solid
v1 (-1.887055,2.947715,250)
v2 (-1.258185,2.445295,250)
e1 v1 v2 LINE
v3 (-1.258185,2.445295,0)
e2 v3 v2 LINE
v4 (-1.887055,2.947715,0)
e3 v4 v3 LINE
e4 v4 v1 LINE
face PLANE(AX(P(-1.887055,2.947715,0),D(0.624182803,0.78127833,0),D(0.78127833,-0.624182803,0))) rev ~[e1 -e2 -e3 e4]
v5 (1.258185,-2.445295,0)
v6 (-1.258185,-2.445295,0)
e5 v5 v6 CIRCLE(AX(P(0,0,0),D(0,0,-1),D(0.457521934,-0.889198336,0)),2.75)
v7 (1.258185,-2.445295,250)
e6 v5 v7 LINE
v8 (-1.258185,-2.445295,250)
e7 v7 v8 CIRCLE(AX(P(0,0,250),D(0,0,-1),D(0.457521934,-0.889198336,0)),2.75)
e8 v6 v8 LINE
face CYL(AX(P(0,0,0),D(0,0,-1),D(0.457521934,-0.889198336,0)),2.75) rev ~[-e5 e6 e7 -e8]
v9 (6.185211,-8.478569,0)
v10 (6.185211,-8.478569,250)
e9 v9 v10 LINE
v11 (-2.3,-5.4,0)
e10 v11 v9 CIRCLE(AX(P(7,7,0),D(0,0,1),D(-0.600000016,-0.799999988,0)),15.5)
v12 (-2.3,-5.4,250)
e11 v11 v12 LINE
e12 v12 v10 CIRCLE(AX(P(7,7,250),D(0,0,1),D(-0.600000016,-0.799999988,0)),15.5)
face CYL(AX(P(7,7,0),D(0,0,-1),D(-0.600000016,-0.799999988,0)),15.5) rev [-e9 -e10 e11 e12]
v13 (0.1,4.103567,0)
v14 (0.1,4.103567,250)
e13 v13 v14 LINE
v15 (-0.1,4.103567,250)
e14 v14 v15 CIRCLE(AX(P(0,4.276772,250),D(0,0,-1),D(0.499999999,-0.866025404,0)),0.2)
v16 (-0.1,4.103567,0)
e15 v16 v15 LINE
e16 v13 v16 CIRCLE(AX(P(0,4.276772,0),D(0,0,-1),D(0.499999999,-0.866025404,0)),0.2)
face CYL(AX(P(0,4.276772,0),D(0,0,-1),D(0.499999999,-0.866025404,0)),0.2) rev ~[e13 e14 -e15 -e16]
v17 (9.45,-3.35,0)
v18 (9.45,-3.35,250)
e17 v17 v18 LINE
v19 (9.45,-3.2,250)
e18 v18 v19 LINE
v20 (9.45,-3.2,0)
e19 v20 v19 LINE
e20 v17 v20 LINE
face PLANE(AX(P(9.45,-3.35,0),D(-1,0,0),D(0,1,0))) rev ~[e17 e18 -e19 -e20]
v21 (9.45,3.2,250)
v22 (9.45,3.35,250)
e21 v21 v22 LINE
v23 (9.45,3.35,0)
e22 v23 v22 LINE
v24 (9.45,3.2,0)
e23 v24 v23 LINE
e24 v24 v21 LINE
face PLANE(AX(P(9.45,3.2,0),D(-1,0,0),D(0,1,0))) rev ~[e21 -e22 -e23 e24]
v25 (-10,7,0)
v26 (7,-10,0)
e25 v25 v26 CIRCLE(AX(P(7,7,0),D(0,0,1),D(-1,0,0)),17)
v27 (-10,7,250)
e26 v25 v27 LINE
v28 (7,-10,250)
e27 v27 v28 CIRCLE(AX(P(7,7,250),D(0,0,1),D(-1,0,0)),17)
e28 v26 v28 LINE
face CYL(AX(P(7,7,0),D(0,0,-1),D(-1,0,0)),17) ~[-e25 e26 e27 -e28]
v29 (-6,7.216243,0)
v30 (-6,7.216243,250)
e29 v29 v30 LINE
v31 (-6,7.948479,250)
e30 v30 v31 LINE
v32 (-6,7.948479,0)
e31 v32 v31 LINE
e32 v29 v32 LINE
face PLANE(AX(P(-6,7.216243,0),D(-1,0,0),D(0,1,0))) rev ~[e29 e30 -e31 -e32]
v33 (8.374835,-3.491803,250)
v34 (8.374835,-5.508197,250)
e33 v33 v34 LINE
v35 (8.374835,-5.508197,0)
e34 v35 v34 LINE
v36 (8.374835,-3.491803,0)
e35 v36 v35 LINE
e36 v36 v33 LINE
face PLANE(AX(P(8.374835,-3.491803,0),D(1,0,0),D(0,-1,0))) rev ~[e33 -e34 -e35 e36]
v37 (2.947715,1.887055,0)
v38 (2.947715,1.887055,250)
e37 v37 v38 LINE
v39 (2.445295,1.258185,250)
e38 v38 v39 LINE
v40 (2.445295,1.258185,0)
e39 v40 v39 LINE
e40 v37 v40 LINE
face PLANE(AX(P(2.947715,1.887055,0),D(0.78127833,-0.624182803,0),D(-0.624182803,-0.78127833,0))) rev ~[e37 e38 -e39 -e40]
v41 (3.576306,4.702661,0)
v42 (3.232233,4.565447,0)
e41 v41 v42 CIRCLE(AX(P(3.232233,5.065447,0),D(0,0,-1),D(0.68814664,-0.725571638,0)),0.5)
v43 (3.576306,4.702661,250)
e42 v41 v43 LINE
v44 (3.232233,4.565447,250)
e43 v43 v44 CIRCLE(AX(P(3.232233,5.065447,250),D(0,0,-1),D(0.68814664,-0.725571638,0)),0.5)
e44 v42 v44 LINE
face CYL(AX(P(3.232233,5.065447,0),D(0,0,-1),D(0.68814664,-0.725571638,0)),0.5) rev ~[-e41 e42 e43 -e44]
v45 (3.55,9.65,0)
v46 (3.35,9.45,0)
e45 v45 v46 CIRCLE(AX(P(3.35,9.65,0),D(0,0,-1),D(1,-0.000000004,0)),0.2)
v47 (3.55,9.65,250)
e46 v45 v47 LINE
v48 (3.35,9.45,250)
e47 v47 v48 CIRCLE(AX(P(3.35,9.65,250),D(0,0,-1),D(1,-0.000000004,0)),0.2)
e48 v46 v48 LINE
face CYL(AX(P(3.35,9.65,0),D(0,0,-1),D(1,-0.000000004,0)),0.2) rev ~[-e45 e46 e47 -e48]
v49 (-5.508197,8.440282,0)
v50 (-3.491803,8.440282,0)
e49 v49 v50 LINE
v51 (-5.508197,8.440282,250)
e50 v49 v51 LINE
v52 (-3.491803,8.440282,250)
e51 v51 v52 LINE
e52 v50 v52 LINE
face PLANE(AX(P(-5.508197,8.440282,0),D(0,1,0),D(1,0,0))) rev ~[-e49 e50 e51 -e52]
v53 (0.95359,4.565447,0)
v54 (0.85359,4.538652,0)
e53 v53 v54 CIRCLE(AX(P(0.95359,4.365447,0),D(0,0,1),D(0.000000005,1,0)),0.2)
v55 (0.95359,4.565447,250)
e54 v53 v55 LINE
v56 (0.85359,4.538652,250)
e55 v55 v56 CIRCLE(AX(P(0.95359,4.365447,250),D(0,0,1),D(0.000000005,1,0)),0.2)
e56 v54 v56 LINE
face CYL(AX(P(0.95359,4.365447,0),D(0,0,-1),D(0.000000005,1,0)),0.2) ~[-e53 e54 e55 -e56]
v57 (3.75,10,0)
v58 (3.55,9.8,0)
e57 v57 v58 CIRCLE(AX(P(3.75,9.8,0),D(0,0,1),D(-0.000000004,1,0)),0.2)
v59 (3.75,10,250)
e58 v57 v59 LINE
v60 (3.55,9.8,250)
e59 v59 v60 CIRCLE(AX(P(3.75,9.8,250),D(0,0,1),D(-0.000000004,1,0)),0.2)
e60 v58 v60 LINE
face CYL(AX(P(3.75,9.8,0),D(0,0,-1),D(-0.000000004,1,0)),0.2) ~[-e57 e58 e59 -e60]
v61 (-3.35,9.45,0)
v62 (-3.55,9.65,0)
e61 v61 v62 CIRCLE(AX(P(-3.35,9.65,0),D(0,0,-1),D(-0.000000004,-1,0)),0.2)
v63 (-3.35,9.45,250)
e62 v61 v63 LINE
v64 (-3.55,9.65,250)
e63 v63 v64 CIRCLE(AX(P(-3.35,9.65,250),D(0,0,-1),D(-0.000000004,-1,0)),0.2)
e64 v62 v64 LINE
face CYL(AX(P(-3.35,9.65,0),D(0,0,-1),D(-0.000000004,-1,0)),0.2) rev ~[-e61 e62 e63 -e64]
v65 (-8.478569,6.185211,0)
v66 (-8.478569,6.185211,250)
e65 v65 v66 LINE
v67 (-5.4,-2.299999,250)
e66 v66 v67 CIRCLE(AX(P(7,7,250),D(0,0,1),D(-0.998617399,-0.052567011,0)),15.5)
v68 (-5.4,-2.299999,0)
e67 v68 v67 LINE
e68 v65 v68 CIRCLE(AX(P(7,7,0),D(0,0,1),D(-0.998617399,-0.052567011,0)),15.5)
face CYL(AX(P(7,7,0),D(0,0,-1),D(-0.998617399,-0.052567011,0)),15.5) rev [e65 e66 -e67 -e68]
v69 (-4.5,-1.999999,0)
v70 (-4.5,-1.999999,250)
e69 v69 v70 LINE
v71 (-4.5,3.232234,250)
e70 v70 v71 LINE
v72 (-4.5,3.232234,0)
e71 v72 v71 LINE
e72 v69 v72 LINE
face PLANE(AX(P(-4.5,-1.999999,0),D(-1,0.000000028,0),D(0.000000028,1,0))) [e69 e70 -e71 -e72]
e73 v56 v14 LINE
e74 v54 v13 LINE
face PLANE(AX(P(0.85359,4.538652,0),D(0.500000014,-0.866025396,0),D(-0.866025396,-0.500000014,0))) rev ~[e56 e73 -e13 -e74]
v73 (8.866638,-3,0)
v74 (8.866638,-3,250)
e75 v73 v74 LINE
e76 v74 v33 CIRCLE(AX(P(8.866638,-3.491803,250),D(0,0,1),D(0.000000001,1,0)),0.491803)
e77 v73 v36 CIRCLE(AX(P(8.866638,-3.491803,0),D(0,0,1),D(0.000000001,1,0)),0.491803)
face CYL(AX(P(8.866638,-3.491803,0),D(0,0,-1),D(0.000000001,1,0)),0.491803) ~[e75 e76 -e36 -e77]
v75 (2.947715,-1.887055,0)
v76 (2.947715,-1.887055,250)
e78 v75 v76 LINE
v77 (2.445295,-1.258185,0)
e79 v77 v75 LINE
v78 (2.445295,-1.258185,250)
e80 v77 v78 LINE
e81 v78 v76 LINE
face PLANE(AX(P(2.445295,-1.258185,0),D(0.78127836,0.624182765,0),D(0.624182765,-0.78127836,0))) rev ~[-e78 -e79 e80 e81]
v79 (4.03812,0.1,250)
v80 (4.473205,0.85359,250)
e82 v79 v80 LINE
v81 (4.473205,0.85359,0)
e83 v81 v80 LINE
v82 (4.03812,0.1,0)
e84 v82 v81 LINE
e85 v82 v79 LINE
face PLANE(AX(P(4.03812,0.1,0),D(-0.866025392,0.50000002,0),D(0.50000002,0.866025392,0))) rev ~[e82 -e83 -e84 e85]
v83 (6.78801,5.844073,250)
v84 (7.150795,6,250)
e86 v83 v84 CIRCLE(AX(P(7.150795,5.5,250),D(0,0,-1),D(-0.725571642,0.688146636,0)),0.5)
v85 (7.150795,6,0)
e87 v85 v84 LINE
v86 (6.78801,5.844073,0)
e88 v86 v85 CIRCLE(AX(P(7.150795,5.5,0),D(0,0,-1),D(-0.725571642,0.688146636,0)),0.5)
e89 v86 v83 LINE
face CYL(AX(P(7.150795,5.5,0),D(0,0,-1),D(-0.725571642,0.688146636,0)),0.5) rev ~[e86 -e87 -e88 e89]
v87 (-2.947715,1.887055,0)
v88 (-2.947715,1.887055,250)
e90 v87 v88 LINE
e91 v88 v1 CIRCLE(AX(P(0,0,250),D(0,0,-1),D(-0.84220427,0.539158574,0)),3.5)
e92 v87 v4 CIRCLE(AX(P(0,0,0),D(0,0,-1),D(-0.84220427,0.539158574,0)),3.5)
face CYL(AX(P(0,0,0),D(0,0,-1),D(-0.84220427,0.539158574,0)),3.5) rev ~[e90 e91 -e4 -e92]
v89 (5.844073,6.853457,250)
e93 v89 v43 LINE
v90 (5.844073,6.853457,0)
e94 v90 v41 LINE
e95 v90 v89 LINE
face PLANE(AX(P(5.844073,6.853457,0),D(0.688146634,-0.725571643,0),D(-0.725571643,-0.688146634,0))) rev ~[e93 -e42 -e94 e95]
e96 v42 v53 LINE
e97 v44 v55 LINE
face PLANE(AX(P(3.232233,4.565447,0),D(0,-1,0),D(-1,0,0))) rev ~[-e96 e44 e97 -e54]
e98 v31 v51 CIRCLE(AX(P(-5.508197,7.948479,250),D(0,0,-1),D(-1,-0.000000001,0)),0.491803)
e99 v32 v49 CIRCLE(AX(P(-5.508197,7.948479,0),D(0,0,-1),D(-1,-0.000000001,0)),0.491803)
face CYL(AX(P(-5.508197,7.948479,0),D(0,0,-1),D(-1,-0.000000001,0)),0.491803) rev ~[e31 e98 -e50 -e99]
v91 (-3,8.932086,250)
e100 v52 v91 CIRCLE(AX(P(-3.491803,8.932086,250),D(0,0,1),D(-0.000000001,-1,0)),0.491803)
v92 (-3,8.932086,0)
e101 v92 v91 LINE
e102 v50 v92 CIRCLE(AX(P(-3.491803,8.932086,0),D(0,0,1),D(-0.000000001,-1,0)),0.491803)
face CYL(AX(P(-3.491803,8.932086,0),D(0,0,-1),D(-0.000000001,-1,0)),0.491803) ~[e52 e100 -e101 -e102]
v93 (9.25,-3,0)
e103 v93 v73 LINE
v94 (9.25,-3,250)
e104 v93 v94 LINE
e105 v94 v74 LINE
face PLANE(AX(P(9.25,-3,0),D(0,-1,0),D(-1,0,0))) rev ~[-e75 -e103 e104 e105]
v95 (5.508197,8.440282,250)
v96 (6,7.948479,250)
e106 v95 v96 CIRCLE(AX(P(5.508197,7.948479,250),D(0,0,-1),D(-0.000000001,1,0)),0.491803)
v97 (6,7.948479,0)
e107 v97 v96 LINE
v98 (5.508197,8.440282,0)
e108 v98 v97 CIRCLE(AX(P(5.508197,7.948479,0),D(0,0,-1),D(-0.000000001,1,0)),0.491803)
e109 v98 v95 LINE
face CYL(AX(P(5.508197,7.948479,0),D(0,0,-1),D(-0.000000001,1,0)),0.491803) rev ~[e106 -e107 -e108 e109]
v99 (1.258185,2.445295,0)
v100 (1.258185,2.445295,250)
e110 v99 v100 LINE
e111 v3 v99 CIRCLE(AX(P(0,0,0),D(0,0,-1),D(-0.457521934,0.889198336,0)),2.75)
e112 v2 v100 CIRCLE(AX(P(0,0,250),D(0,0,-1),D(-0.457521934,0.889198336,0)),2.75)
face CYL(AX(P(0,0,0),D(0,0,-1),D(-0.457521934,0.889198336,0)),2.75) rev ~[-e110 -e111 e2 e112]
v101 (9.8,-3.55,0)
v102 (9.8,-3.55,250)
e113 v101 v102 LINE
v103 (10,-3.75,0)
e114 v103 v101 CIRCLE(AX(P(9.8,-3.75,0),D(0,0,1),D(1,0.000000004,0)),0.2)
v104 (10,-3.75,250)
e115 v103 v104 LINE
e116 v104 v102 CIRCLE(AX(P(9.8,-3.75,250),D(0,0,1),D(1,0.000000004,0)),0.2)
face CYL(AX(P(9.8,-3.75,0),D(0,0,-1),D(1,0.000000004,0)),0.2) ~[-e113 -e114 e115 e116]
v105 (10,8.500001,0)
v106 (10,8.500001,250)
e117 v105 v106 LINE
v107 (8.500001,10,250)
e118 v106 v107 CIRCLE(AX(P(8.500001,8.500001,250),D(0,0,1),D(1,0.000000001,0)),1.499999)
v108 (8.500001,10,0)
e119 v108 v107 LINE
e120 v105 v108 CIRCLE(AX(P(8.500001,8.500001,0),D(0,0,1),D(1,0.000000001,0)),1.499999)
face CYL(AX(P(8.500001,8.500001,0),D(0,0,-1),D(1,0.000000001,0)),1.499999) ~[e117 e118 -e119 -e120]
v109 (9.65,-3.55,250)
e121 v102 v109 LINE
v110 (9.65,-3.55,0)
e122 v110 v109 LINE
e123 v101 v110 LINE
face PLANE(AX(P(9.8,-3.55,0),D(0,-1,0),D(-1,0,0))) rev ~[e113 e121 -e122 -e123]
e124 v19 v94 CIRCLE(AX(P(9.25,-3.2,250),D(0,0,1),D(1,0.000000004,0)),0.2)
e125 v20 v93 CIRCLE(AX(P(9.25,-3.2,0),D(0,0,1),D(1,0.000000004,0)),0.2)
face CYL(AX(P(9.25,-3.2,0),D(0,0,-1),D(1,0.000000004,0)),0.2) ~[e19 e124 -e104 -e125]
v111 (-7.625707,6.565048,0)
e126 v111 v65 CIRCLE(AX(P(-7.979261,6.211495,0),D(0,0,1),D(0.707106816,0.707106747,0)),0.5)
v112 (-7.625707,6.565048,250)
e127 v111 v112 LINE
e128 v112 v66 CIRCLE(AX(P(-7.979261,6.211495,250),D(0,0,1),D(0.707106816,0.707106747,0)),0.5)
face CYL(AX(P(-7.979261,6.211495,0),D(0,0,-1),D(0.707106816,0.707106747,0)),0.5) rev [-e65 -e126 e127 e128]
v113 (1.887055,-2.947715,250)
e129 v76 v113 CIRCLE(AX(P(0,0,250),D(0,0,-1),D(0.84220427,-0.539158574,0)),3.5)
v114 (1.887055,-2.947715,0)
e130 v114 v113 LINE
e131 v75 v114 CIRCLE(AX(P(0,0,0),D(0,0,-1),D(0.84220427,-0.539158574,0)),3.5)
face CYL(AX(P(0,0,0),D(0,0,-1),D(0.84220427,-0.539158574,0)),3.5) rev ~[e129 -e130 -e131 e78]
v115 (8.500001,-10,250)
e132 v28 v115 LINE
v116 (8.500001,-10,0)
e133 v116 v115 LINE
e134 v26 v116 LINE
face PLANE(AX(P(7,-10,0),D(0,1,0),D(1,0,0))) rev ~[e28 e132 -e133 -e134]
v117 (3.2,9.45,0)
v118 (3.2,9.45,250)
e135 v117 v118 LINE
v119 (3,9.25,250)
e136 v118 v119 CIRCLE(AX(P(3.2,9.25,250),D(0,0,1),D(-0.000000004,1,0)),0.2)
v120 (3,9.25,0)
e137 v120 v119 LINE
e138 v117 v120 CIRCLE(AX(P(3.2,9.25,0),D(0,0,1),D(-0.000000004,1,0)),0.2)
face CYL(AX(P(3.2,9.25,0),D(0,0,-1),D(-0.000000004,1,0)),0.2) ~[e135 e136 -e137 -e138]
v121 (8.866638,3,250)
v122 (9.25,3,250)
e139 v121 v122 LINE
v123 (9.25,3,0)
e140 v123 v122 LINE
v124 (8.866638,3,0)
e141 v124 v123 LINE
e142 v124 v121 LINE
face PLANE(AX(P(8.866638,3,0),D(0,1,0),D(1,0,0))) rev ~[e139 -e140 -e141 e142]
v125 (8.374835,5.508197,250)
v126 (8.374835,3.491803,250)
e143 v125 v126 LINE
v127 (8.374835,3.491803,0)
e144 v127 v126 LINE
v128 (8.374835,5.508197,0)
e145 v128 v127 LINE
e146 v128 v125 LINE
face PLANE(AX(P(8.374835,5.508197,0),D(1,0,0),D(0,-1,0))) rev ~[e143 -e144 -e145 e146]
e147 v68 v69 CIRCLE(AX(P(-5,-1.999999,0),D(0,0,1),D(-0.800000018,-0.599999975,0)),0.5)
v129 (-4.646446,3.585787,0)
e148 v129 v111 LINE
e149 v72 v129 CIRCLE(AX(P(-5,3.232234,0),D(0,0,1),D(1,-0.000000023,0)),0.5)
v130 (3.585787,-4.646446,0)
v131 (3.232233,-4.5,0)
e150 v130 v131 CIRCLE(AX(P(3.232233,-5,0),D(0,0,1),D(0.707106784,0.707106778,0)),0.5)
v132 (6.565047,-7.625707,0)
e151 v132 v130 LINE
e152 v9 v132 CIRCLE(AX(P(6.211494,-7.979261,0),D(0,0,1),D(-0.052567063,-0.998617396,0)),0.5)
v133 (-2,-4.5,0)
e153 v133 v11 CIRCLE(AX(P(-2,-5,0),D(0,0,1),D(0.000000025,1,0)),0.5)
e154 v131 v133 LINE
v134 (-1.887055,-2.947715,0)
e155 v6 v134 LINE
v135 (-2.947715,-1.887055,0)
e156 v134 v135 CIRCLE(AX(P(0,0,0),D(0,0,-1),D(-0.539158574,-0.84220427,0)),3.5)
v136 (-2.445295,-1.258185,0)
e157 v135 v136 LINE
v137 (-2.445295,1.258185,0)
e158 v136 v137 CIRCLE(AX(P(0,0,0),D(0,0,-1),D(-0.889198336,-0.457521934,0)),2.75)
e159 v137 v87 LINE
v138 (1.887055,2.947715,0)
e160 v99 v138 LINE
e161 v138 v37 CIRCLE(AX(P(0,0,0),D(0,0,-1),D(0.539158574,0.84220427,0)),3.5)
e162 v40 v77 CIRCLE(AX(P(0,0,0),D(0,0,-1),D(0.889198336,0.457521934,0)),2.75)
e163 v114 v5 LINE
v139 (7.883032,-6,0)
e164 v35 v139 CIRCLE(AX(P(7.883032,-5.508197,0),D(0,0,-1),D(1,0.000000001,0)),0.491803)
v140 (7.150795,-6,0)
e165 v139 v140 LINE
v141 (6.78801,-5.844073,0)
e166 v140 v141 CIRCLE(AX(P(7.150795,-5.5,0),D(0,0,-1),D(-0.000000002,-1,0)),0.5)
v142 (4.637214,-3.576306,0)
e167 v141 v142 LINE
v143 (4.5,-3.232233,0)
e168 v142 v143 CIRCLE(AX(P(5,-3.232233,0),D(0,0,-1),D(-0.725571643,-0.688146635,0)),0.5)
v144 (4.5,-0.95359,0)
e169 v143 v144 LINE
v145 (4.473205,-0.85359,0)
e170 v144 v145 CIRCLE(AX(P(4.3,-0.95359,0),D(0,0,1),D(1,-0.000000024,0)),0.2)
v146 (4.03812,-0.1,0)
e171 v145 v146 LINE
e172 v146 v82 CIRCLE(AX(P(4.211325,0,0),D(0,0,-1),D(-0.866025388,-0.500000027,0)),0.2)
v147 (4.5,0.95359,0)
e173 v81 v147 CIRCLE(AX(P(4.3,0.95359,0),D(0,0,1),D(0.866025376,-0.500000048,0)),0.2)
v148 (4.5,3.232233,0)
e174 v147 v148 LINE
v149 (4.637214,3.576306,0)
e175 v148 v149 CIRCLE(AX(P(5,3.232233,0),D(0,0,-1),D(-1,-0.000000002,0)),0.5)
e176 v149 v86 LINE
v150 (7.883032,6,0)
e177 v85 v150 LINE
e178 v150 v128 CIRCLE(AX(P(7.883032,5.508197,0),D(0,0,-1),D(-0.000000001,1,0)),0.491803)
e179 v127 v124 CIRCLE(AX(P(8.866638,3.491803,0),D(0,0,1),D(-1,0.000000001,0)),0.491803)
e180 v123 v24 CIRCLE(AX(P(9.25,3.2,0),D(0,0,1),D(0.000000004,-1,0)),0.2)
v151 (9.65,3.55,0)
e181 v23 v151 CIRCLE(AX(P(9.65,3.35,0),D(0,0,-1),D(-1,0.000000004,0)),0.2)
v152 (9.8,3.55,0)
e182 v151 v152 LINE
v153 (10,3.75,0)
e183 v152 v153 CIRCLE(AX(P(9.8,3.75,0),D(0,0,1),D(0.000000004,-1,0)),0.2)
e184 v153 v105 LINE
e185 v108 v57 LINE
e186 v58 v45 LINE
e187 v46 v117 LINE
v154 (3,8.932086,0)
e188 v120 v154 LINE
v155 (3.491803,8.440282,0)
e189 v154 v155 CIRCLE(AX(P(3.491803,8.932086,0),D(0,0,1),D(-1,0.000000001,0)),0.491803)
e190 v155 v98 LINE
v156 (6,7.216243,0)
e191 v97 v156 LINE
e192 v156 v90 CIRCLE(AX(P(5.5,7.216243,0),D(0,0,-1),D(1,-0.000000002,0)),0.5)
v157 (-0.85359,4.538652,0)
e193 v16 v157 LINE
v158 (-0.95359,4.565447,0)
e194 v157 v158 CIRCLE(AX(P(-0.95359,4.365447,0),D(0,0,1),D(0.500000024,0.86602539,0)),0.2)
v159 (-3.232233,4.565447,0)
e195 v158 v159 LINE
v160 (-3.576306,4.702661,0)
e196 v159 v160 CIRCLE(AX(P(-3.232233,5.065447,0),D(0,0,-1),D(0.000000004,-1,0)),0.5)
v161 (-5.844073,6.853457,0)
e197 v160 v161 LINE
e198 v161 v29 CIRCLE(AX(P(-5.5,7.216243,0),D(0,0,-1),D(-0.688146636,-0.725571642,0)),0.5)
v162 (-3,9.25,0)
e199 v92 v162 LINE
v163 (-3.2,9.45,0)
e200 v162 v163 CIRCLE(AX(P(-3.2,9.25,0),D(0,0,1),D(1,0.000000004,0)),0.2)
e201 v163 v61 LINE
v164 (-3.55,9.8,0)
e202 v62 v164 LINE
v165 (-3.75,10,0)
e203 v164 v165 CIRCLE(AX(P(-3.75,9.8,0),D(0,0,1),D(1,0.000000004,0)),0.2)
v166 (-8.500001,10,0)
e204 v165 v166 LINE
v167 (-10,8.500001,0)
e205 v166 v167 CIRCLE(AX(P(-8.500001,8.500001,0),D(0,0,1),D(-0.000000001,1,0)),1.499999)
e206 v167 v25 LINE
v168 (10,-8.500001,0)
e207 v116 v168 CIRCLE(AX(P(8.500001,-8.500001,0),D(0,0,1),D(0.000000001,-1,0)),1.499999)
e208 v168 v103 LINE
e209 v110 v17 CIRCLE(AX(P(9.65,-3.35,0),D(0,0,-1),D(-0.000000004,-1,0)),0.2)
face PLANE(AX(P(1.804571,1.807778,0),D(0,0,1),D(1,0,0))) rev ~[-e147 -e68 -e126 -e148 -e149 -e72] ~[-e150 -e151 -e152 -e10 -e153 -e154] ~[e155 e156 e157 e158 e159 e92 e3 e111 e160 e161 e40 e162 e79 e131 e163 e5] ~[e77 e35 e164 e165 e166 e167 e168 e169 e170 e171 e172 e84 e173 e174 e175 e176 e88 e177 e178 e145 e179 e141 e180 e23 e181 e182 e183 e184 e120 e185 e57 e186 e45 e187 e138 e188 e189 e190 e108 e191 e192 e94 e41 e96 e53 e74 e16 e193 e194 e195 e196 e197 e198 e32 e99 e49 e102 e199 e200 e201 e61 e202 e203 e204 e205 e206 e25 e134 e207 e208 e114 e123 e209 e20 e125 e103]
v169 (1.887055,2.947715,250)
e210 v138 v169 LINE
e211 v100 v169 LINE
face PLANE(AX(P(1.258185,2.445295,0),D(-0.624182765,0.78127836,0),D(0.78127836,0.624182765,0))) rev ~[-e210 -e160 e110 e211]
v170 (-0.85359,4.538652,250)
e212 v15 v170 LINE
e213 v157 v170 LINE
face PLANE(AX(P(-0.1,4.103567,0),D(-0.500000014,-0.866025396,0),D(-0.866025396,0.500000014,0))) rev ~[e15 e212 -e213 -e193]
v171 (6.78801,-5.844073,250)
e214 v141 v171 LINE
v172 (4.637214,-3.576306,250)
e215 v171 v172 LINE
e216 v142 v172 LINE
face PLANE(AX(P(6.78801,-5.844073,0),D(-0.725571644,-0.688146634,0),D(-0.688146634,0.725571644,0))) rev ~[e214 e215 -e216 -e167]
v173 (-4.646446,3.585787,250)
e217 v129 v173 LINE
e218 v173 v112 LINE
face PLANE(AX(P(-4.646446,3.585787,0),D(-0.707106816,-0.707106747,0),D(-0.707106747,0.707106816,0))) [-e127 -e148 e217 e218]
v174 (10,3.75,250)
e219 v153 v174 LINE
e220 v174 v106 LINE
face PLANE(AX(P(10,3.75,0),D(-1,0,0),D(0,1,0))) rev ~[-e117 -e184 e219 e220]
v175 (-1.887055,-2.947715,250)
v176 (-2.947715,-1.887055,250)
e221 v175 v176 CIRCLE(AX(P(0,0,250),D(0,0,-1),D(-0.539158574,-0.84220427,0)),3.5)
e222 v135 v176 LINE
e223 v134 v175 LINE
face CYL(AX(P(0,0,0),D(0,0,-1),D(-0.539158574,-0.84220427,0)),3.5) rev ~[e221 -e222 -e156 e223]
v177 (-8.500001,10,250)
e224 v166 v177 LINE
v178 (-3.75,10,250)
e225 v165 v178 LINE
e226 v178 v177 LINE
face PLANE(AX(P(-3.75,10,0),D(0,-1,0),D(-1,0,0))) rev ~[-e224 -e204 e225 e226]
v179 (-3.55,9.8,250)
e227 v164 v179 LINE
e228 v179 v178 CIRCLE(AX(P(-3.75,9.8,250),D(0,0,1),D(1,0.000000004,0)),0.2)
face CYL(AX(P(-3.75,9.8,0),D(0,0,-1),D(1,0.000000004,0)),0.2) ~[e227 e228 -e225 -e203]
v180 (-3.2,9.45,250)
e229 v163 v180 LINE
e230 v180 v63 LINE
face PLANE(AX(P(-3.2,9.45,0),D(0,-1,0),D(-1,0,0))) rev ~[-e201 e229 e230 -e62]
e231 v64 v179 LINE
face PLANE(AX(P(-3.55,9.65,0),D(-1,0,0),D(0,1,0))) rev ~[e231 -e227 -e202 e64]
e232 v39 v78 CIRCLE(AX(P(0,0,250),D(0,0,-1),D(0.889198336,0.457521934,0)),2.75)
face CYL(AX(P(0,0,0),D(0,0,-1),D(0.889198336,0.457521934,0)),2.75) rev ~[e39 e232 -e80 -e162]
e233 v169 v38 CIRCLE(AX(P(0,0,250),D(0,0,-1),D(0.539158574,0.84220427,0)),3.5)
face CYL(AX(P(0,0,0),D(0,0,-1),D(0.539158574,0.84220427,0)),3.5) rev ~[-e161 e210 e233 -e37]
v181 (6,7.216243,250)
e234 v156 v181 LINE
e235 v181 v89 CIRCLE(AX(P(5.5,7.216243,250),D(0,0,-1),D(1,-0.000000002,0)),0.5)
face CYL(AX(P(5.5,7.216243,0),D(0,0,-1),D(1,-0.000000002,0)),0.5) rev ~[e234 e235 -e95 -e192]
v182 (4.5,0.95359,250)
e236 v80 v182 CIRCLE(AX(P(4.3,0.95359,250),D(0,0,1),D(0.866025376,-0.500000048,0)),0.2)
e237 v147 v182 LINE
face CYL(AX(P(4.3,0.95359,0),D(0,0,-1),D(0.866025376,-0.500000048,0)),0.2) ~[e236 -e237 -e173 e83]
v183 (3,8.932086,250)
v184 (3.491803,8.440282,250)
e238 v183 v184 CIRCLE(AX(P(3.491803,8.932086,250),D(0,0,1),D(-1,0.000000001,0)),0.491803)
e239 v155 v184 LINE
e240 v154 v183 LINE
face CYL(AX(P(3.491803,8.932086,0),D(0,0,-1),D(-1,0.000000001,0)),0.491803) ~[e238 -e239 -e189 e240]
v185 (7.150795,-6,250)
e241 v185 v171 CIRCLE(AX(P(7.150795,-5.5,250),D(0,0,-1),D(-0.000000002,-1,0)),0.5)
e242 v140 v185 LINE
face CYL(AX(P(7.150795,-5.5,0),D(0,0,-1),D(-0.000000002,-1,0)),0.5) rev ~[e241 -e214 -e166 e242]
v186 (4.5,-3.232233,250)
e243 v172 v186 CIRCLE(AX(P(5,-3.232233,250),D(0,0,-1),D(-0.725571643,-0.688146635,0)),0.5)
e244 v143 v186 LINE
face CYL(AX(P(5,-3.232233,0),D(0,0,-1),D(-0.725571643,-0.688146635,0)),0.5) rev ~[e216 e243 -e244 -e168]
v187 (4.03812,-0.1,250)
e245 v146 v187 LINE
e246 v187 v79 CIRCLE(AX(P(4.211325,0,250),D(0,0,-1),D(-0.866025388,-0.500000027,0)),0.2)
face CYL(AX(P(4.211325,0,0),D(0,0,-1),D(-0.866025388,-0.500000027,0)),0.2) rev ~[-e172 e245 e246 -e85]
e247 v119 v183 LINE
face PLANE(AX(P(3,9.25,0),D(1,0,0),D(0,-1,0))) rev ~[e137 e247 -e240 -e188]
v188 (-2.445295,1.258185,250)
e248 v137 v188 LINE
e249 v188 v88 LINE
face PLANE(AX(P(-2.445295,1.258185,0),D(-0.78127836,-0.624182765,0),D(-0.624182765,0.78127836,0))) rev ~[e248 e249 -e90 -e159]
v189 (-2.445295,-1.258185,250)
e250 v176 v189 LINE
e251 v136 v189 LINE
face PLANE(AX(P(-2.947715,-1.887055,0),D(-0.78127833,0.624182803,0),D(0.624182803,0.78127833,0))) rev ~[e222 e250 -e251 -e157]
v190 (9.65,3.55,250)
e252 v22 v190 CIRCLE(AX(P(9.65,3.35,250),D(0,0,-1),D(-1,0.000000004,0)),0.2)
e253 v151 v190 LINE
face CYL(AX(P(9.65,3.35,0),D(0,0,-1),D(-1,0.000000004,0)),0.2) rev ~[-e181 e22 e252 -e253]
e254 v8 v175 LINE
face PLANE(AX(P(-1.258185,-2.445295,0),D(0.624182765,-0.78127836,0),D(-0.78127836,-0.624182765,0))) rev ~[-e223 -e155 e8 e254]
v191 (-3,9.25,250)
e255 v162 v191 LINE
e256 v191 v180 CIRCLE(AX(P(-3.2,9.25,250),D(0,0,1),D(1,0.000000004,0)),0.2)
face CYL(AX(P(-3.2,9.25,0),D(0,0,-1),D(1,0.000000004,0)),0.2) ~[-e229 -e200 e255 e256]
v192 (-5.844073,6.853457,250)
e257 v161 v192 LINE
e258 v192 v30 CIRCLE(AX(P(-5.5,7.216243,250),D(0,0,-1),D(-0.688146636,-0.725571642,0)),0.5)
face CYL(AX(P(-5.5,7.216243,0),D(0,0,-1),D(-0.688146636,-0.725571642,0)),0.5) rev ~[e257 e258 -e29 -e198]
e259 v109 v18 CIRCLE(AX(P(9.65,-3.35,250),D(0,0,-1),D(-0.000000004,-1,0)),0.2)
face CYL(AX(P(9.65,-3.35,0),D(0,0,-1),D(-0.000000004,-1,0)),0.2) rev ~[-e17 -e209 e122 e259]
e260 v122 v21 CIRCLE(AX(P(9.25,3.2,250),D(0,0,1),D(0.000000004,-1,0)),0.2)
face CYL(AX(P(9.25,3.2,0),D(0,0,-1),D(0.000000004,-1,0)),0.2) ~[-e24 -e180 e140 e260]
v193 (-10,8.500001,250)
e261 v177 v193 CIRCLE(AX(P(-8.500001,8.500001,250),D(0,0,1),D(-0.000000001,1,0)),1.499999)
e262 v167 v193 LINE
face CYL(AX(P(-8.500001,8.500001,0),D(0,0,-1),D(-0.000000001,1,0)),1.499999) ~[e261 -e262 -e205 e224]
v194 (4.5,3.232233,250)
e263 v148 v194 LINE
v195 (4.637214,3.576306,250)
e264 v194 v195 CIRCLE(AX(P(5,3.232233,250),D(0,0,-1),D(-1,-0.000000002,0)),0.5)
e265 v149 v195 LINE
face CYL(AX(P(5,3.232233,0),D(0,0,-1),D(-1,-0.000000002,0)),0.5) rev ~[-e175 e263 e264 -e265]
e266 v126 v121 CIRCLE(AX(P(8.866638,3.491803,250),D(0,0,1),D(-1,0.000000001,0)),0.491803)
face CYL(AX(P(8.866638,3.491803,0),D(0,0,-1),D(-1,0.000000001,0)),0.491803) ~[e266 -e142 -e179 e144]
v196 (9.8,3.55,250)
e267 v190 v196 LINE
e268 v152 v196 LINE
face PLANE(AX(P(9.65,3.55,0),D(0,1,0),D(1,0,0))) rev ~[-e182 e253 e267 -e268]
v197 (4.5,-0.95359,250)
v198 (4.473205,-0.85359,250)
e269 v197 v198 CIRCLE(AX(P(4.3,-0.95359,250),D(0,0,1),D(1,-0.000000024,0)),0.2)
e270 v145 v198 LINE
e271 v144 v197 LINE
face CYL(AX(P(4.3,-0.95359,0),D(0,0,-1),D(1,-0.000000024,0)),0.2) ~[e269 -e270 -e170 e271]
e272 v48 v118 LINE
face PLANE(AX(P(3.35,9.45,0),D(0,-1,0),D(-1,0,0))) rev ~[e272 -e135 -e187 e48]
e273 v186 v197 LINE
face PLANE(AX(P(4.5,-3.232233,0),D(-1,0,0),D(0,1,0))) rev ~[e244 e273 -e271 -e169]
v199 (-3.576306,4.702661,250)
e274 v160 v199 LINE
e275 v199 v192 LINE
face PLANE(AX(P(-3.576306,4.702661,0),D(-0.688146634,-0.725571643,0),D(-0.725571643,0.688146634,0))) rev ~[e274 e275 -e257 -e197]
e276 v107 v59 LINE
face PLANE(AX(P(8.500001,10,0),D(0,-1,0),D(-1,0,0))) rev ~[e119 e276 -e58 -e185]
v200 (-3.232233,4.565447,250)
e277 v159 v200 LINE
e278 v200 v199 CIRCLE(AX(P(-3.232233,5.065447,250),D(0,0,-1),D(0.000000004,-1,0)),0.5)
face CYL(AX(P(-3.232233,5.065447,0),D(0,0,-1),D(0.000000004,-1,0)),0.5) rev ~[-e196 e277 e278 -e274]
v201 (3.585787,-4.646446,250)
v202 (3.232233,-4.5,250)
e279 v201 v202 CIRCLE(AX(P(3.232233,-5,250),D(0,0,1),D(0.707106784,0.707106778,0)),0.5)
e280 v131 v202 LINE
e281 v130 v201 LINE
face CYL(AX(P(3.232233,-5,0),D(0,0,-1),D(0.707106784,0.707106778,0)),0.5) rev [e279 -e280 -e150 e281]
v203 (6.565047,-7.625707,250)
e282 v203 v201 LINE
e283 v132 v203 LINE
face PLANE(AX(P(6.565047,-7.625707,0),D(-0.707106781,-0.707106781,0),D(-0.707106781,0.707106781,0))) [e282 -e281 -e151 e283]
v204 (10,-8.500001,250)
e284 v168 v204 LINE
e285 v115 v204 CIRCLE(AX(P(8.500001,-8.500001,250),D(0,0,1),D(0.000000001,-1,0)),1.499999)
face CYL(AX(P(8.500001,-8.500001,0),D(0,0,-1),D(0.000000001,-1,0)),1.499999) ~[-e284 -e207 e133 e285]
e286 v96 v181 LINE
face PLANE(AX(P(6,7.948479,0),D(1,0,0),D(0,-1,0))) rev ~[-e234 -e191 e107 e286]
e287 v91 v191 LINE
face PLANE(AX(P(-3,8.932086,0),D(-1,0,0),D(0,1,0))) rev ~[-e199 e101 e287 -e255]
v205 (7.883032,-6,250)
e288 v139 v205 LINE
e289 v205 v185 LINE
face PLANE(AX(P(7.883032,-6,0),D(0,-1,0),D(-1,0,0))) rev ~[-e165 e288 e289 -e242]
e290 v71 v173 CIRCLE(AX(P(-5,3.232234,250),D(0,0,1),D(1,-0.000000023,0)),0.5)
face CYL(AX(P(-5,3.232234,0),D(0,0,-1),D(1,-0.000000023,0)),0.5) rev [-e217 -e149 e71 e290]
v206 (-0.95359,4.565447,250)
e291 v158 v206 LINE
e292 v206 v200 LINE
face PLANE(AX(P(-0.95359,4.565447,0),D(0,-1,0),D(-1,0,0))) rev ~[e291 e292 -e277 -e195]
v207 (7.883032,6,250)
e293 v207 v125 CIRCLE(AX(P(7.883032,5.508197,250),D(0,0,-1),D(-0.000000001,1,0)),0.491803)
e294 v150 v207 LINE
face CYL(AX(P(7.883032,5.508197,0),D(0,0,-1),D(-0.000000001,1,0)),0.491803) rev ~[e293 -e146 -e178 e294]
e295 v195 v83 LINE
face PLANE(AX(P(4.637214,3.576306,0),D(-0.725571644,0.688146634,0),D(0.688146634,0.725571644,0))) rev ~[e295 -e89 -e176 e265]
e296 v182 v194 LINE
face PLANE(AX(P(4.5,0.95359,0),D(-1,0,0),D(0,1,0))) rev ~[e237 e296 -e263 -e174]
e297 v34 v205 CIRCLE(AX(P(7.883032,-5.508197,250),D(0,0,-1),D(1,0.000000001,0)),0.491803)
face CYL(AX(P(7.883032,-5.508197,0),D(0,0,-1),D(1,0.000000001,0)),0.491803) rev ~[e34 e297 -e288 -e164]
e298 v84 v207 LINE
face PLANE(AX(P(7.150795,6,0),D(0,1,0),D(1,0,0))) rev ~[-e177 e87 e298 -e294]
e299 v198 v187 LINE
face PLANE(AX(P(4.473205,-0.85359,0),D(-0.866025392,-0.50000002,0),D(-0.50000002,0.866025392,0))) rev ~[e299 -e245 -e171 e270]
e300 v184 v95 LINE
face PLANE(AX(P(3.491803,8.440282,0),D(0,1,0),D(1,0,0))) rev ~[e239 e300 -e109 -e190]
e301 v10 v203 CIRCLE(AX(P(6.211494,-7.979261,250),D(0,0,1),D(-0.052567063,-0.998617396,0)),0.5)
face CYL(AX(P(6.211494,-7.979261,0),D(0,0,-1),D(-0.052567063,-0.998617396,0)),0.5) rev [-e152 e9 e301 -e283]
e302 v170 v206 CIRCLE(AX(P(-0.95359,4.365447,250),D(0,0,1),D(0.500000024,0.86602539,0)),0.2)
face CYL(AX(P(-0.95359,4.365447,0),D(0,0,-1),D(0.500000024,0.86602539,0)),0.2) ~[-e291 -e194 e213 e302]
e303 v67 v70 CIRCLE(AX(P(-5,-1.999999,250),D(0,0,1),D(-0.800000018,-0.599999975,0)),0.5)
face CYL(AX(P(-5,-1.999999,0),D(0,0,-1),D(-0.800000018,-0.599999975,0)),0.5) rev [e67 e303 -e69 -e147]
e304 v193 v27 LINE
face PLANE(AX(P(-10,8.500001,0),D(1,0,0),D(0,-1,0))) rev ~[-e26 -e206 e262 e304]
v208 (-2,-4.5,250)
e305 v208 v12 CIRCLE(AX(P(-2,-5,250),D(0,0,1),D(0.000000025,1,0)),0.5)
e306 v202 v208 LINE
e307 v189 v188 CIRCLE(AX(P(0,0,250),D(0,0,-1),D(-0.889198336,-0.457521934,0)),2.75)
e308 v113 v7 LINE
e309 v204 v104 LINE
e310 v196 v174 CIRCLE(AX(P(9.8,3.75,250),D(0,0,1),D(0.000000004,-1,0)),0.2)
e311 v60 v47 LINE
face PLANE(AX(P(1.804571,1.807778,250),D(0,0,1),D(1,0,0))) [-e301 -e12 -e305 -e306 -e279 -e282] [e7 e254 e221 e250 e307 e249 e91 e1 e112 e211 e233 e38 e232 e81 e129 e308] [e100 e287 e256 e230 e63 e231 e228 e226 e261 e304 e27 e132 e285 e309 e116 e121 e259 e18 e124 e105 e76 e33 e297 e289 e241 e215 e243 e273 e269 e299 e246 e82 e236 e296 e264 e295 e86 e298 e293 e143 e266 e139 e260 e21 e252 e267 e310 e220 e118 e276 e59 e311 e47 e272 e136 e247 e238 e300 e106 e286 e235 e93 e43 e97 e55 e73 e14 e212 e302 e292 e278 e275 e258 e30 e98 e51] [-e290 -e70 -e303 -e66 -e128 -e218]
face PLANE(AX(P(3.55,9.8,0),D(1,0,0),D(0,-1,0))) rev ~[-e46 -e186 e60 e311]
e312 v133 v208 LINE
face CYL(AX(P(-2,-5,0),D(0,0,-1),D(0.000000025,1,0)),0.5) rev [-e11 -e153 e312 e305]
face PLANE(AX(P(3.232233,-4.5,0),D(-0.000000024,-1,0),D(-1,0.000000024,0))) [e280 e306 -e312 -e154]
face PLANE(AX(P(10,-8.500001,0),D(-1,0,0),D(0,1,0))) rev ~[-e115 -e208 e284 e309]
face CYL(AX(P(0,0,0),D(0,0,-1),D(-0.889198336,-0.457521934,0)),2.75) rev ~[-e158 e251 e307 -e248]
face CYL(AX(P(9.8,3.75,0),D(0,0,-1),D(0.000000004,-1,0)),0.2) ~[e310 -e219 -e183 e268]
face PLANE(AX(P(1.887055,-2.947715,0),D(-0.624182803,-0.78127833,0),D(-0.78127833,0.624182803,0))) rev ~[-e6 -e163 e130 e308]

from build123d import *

# Parameters (mm, degrees)
EXTRUDE1_DEPTH = 250


with BuildPart() as part:
    # Sketch1 → Extrude1 (new body)
    with BuildSketch(Plane.XY):
        with BuildLine():
            Line((3.232233116, 4.565447254), (0.953589838, 4.565447254))
            ThreePointArc((0.953589838, 4.565447254), (0.901826028, 4.558632419), (0.853589836, 4.538652333))
            Line((0.853589836, 4.538652333), (0.100000003, 4.103567024))
            ThreePointArc((0.100000003, 4.103567024), (0, 4.076772104), (-0.100000003, 4.103567024))
            Line((-0.100000003, 4.103567024), (-0.853589836, 4.538652333))
            ThreePointArc((-0.853589836, 4.538652333), (-0.901826028, 4.558632419), (-0.953589838, 4.565447254))
            Line((-0.953589838, 4.565447254), (-3.232233116, 4.565447254))
            ThreePointArc((-3.232233116, 4.565447254), (-3.417445277, 4.601015929), (-3.576306433, 4.702661433))
            Line((-3.576306433, 4.702661433), (-5.844073317, 6.853456827))
            ThreePointArc((-5.844073317, 6.853456827), (-5.959367314, 7.018804885), (-6, 7.216242649))
            Line((-6, 7.216242649), (-6, 7.948478858))
            ThreePointArc((-6, 7.948478858), (-5.855954134, 8.296236342), (-5.50819665, 8.440282208))
            Line((-5.50819665, 8.440282208), (-3.49180335, 8.440282208))
            ThreePointArc((-3.49180335, 8.440282208), (-3.144045866, 8.584328074), (-3, 8.932085558))
            Line((-3, 8.932085558), (-3, 9.249999634))
            ThreePointArc((-3, 9.249999634), (-3.058578644, 9.39142099), (-3.2, 9.449999634))
            Line((-3.2, 9.449999634), (-3.350000366, 9.449999634))
            ThreePointArc((-3.350000366, 9.449999634), (-3.491421722, 9.508578278), (-3.550000366, 9.649999634))
            Line((-3.550000366, 9.649999634), (-3.550000366, 9.8))
            ThreePointArc((-3.550000366, 9.8), (-3.60857901, 9.941421356), (-3.750000366, 10))
            Line((-3.750000366, 10), (-8.50000115, 10))
            ThreePointArc((-8.50000115, 10), (-9.560660508, 9.560660508), (-10, 8.50000115))
            Line((-10, 8.50000115), (-10, 7))
            ThreePointArc((-10, 7), (-5.02081528, -5.02081528), (7, -10))
            Line((7, -10), (8.50000115, -10))
            ThreePointArc((8.50000115, -10), (9.560660508, -9.560660508), (10, -8.50000115))
            Line((10, -8.50000115), (10, -3.750000366))
            ThreePointArc((10, -3.750000366), (9.941421356, -3.60857901), (9.8, -3.550000366))
            Line((9.8, -3.550000366), (9.649999634, -3.550000366))
            ThreePointArc((9.649999634, -3.550000366), (9.508578278, -3.491421722), (9.449999634, -3.350000366))
            Line((9.449999634, -3.350000366), (9.449999634, -3.2))
            ThreePointArc((9.449999634, -3.2), (9.39142099, -3.058578644), (9.249999634, -3))
            Line((9.249999634, -3), (8.866638303, -3))
            ThreePointArc((8.866638303, -3), (8.518880819, -3.144045866), (8.374834953, -3.49180335))
            Line((8.374834953, -3.49180335), (8.374834953, -5.50819665))
            ThreePointArc((8.374834953, -5.50819665), (8.230789087, -5.855954134), (7.883031603, -6))
            Line((7.883031603, -6), (7.150795394, -6))
            ThreePointArc((7.150795394, -6), (6.95335763, -5.959367314), (6.788009572, -5.844073317))
            Line((6.788009572, -5.844073317), (4.637214178, -3.576306432))
            ThreePointArc((4.637214178, -3.576306432), (4.535568675, -3.417445276), (4.5, -3.232233115))
            Line((4.5, -3.232233115), (4.5, -0.953589838))
            ThreePointArc((4.5, -0.953589838), (4.493185165, -0.901826026), (4.473205078, -0.853589834))
            Line((4.473205078, -0.853589834), (4.038119764, -0.100000004))
            ThreePointArc((4.038119764, -0.100000004), (4.011324842, 0), (4.038119764, 0.100000004))
            Line((4.038119764, 0.100000004), (4.473205078, 0.853589834))
            ThreePointArc((4.473205078, 0.853589834), (4.493185165, 0.901826026), (4.5, 0.953589838))
            Line((4.5, 0.953589838), (4.5, 3.232233115))
            ThreePointArc((4.5, 3.232233115), (4.535568675, 3.417445276), (4.637214178, 3.576306432))
            Line((4.637214178, 3.576306432), (6.788009572, 5.844073317))
            ThreePointArc((6.788009572, 5.844073317), (6.95335763, 5.959367314), (7.150795394, 6))
            Line((7.150795394, 6), (7.883031603, 6))
            ThreePointArc((7.883031603, 6), (8.230789087, 5.855954134), (8.374834953, 5.50819665))
            Line((8.374834953, 5.50819665), (8.374834953, 3.49180335))
            ThreePointArc((8.374834953, 3.49180335), (8.518880819, 3.144045866), (8.866638303, 3))
            Line((8.866638303, 3), (9.249999634, 3))
            ThreePointArc((9.249999634, 3), (9.39142099, 3.058578644), (9.449999634, 3.2))
            Line((9.449999634, 3.2), (9.449999634, 3.350000366))
            ThreePointArc((9.449999634, 3.350000366), (9.508578278, 3.491421722), (9.649999634, 3.550000366))
            Line((9.649999634, 3.550000366), (9.8, 3.550000366))
            ThreePointArc((9.8, 3.550000366), (9.941421356, 3.60857901), (10, 3.750000366))
            Line((10, 3.750000366), (10, 8.50000115))
            ThreePointArc((10, 8.50000115), (9.560660508, 9.560660508), (8.50000115, 10))
            Line((8.50000115, 10), (3.750000366, 10))
            ThreePointArc((3.750000366, 10), (3.60857901, 9.941421356), (3.550000366, 9.8))
            Line((3.550000366, 9.8), (3.550000366, 9.649999634))
            ThreePointArc((3.550000366, 9.649999634), (3.491421722, 9.508578278), (3.350000366, 9.449999634))
            Line((3.350000366, 9.449999634), (3.2, 9.449999634))
            ThreePointArc((3.2, 9.449999634), (3.058578644, 9.39142099), (3, 9.249999634))
            Line((3, 9.249999634), (3, 8.932085558))
            ThreePointArc((3, 8.932085558), (3.144045866, 8.584328074), (3.49180335, 8.440282208))
            Line((3.49180335, 8.440282208), (5.50819665, 8.440282208))
            ThreePointArc((5.50819665, 8.440282208), (5.855954134, 8.296236342), (6, 7.948478858))
            Line((6, 7.948478858), (6, 7.216242649))
            ThreePointArc((6, 7.216242649), (5.959367314, 7.018804885), (5.844073317, 6.853456827))
            Line((5.844073317, 6.853456827), (3.576306433, 4.702661433))
            ThreePointArc((3.576306433, 4.702661433), (3.417445277, 4.601015929), (3.232233116, 4.565447254))
        make_face()
        with BuildLine():
            Line((1.258185436, 2.445295362), (1.887055008, 2.947714945))
            ThreePointArc((1.887055008, 2.947714945), (2.474873794, 2.474873674), (2.947715037, 1.887054865))
            Line((2.947715037, 1.887054865), (2.445295423, 1.258185317))
            ThreePointArc((2.445295423, 1.258185317), (2.75, -6.7e-08), (2.445295362, -1.258185436))
            Line((2.445295362, -1.258185436), (2.947714945, -1.887055008))
            ThreePointArc((2.947714945, -1.887055008), (2.474873674, -2.474873794), (1.887054865, -2.947715037))
            Line((1.887054865, -2.947715037), (1.258185317, -2.445295423))
            ThreePointArc((1.258185317, -2.445295423), (-6.7e-08, -2.75), (-1.258185436, -2.445295362))
            Line((-1.258185436, -2.445295362), (-1.887055008, -2.947714945))
            ThreePointArc((-1.887055008, -2.947714945), (-2.474873794, -2.474873674), (-2.947715037, -1.887054865))
            Line((-2.947715037, -1.887054865), (-2.445295423, -1.258185317))
            ThreePointArc((-2.445295423, -1.258185317), (-2.75, 6.7e-08), (-2.445295362, 1.258185436))
            Line((-2.445295362, 1.258185436), (-2.947714945, 1.887055008))
            ThreePointArc((-2.947714945, 1.887055008), (-2.474873674, 2.474873794), (-1.887054865, 2.947715037))
            Line((-1.887054865, 2.947715037), (-1.258185317, 2.445295423))
            ThreePointArc((-1.258185317, 2.445295423), (6.7e-08, 2.75), (1.258185436, 2.445295362))
        make_face(mode=Mode.SUBTRACT)
        with BuildLine():
            Line((3.232233163, -4.499999714), (-2.000000051, -4.499999587))
            ThreePointArc((-2.000000051, -4.499999587), (-2.474341709, -4.841885693), (-2.300000072, -5.399999581))
            ThreePointArc((-2.300000072, -5.399999581), (1.713541858, -7.57063318), (6.185210557, -8.478569349))
            ThreePointArc((6.185210557, -8.478569349), (6.668243282, -8.182681825), (6.565047479, -7.625707261))
            Line((6.565047479, -7.625707261), (3.585786542, -4.646446324))
            ThreePointArc((3.585786542, -4.646446324), (3.423574873, -4.53805995), (3.232233163, -4.499999714))
        make_face(mode=Mode.SUBTRACT)
        with BuildLine():
            Line((-4.646446492, 3.585787135), (-7.625707283, 6.565048217))
            ThreePointArc((-7.625707283, 6.565048217), (-8.182681843, 6.668244047), (-8.47856939, 6.185211338))
            ThreePointArc((-8.47856939, 6.185211338), (-7.570633447, 1.713542596), (-5.400000054, -2.299999441))
            ThreePointArc((-5.400000054, -2.299999441), (-4.841886176, -2.474341107), (-4.500000045, -1.999999467))
            Line((-4.500000045, -1.999999467), (-4.499999899, 3.232233748))
            ThreePointArc((-4.499999899, 3.232233748), (-4.538060126, 3.42357546), (-4.646446492, 3.585787135))
        make_face(mode=Mode.SUBTRACT)
    extrude(amount=EXTRUDE1_DEPTH)


solid = part.part
